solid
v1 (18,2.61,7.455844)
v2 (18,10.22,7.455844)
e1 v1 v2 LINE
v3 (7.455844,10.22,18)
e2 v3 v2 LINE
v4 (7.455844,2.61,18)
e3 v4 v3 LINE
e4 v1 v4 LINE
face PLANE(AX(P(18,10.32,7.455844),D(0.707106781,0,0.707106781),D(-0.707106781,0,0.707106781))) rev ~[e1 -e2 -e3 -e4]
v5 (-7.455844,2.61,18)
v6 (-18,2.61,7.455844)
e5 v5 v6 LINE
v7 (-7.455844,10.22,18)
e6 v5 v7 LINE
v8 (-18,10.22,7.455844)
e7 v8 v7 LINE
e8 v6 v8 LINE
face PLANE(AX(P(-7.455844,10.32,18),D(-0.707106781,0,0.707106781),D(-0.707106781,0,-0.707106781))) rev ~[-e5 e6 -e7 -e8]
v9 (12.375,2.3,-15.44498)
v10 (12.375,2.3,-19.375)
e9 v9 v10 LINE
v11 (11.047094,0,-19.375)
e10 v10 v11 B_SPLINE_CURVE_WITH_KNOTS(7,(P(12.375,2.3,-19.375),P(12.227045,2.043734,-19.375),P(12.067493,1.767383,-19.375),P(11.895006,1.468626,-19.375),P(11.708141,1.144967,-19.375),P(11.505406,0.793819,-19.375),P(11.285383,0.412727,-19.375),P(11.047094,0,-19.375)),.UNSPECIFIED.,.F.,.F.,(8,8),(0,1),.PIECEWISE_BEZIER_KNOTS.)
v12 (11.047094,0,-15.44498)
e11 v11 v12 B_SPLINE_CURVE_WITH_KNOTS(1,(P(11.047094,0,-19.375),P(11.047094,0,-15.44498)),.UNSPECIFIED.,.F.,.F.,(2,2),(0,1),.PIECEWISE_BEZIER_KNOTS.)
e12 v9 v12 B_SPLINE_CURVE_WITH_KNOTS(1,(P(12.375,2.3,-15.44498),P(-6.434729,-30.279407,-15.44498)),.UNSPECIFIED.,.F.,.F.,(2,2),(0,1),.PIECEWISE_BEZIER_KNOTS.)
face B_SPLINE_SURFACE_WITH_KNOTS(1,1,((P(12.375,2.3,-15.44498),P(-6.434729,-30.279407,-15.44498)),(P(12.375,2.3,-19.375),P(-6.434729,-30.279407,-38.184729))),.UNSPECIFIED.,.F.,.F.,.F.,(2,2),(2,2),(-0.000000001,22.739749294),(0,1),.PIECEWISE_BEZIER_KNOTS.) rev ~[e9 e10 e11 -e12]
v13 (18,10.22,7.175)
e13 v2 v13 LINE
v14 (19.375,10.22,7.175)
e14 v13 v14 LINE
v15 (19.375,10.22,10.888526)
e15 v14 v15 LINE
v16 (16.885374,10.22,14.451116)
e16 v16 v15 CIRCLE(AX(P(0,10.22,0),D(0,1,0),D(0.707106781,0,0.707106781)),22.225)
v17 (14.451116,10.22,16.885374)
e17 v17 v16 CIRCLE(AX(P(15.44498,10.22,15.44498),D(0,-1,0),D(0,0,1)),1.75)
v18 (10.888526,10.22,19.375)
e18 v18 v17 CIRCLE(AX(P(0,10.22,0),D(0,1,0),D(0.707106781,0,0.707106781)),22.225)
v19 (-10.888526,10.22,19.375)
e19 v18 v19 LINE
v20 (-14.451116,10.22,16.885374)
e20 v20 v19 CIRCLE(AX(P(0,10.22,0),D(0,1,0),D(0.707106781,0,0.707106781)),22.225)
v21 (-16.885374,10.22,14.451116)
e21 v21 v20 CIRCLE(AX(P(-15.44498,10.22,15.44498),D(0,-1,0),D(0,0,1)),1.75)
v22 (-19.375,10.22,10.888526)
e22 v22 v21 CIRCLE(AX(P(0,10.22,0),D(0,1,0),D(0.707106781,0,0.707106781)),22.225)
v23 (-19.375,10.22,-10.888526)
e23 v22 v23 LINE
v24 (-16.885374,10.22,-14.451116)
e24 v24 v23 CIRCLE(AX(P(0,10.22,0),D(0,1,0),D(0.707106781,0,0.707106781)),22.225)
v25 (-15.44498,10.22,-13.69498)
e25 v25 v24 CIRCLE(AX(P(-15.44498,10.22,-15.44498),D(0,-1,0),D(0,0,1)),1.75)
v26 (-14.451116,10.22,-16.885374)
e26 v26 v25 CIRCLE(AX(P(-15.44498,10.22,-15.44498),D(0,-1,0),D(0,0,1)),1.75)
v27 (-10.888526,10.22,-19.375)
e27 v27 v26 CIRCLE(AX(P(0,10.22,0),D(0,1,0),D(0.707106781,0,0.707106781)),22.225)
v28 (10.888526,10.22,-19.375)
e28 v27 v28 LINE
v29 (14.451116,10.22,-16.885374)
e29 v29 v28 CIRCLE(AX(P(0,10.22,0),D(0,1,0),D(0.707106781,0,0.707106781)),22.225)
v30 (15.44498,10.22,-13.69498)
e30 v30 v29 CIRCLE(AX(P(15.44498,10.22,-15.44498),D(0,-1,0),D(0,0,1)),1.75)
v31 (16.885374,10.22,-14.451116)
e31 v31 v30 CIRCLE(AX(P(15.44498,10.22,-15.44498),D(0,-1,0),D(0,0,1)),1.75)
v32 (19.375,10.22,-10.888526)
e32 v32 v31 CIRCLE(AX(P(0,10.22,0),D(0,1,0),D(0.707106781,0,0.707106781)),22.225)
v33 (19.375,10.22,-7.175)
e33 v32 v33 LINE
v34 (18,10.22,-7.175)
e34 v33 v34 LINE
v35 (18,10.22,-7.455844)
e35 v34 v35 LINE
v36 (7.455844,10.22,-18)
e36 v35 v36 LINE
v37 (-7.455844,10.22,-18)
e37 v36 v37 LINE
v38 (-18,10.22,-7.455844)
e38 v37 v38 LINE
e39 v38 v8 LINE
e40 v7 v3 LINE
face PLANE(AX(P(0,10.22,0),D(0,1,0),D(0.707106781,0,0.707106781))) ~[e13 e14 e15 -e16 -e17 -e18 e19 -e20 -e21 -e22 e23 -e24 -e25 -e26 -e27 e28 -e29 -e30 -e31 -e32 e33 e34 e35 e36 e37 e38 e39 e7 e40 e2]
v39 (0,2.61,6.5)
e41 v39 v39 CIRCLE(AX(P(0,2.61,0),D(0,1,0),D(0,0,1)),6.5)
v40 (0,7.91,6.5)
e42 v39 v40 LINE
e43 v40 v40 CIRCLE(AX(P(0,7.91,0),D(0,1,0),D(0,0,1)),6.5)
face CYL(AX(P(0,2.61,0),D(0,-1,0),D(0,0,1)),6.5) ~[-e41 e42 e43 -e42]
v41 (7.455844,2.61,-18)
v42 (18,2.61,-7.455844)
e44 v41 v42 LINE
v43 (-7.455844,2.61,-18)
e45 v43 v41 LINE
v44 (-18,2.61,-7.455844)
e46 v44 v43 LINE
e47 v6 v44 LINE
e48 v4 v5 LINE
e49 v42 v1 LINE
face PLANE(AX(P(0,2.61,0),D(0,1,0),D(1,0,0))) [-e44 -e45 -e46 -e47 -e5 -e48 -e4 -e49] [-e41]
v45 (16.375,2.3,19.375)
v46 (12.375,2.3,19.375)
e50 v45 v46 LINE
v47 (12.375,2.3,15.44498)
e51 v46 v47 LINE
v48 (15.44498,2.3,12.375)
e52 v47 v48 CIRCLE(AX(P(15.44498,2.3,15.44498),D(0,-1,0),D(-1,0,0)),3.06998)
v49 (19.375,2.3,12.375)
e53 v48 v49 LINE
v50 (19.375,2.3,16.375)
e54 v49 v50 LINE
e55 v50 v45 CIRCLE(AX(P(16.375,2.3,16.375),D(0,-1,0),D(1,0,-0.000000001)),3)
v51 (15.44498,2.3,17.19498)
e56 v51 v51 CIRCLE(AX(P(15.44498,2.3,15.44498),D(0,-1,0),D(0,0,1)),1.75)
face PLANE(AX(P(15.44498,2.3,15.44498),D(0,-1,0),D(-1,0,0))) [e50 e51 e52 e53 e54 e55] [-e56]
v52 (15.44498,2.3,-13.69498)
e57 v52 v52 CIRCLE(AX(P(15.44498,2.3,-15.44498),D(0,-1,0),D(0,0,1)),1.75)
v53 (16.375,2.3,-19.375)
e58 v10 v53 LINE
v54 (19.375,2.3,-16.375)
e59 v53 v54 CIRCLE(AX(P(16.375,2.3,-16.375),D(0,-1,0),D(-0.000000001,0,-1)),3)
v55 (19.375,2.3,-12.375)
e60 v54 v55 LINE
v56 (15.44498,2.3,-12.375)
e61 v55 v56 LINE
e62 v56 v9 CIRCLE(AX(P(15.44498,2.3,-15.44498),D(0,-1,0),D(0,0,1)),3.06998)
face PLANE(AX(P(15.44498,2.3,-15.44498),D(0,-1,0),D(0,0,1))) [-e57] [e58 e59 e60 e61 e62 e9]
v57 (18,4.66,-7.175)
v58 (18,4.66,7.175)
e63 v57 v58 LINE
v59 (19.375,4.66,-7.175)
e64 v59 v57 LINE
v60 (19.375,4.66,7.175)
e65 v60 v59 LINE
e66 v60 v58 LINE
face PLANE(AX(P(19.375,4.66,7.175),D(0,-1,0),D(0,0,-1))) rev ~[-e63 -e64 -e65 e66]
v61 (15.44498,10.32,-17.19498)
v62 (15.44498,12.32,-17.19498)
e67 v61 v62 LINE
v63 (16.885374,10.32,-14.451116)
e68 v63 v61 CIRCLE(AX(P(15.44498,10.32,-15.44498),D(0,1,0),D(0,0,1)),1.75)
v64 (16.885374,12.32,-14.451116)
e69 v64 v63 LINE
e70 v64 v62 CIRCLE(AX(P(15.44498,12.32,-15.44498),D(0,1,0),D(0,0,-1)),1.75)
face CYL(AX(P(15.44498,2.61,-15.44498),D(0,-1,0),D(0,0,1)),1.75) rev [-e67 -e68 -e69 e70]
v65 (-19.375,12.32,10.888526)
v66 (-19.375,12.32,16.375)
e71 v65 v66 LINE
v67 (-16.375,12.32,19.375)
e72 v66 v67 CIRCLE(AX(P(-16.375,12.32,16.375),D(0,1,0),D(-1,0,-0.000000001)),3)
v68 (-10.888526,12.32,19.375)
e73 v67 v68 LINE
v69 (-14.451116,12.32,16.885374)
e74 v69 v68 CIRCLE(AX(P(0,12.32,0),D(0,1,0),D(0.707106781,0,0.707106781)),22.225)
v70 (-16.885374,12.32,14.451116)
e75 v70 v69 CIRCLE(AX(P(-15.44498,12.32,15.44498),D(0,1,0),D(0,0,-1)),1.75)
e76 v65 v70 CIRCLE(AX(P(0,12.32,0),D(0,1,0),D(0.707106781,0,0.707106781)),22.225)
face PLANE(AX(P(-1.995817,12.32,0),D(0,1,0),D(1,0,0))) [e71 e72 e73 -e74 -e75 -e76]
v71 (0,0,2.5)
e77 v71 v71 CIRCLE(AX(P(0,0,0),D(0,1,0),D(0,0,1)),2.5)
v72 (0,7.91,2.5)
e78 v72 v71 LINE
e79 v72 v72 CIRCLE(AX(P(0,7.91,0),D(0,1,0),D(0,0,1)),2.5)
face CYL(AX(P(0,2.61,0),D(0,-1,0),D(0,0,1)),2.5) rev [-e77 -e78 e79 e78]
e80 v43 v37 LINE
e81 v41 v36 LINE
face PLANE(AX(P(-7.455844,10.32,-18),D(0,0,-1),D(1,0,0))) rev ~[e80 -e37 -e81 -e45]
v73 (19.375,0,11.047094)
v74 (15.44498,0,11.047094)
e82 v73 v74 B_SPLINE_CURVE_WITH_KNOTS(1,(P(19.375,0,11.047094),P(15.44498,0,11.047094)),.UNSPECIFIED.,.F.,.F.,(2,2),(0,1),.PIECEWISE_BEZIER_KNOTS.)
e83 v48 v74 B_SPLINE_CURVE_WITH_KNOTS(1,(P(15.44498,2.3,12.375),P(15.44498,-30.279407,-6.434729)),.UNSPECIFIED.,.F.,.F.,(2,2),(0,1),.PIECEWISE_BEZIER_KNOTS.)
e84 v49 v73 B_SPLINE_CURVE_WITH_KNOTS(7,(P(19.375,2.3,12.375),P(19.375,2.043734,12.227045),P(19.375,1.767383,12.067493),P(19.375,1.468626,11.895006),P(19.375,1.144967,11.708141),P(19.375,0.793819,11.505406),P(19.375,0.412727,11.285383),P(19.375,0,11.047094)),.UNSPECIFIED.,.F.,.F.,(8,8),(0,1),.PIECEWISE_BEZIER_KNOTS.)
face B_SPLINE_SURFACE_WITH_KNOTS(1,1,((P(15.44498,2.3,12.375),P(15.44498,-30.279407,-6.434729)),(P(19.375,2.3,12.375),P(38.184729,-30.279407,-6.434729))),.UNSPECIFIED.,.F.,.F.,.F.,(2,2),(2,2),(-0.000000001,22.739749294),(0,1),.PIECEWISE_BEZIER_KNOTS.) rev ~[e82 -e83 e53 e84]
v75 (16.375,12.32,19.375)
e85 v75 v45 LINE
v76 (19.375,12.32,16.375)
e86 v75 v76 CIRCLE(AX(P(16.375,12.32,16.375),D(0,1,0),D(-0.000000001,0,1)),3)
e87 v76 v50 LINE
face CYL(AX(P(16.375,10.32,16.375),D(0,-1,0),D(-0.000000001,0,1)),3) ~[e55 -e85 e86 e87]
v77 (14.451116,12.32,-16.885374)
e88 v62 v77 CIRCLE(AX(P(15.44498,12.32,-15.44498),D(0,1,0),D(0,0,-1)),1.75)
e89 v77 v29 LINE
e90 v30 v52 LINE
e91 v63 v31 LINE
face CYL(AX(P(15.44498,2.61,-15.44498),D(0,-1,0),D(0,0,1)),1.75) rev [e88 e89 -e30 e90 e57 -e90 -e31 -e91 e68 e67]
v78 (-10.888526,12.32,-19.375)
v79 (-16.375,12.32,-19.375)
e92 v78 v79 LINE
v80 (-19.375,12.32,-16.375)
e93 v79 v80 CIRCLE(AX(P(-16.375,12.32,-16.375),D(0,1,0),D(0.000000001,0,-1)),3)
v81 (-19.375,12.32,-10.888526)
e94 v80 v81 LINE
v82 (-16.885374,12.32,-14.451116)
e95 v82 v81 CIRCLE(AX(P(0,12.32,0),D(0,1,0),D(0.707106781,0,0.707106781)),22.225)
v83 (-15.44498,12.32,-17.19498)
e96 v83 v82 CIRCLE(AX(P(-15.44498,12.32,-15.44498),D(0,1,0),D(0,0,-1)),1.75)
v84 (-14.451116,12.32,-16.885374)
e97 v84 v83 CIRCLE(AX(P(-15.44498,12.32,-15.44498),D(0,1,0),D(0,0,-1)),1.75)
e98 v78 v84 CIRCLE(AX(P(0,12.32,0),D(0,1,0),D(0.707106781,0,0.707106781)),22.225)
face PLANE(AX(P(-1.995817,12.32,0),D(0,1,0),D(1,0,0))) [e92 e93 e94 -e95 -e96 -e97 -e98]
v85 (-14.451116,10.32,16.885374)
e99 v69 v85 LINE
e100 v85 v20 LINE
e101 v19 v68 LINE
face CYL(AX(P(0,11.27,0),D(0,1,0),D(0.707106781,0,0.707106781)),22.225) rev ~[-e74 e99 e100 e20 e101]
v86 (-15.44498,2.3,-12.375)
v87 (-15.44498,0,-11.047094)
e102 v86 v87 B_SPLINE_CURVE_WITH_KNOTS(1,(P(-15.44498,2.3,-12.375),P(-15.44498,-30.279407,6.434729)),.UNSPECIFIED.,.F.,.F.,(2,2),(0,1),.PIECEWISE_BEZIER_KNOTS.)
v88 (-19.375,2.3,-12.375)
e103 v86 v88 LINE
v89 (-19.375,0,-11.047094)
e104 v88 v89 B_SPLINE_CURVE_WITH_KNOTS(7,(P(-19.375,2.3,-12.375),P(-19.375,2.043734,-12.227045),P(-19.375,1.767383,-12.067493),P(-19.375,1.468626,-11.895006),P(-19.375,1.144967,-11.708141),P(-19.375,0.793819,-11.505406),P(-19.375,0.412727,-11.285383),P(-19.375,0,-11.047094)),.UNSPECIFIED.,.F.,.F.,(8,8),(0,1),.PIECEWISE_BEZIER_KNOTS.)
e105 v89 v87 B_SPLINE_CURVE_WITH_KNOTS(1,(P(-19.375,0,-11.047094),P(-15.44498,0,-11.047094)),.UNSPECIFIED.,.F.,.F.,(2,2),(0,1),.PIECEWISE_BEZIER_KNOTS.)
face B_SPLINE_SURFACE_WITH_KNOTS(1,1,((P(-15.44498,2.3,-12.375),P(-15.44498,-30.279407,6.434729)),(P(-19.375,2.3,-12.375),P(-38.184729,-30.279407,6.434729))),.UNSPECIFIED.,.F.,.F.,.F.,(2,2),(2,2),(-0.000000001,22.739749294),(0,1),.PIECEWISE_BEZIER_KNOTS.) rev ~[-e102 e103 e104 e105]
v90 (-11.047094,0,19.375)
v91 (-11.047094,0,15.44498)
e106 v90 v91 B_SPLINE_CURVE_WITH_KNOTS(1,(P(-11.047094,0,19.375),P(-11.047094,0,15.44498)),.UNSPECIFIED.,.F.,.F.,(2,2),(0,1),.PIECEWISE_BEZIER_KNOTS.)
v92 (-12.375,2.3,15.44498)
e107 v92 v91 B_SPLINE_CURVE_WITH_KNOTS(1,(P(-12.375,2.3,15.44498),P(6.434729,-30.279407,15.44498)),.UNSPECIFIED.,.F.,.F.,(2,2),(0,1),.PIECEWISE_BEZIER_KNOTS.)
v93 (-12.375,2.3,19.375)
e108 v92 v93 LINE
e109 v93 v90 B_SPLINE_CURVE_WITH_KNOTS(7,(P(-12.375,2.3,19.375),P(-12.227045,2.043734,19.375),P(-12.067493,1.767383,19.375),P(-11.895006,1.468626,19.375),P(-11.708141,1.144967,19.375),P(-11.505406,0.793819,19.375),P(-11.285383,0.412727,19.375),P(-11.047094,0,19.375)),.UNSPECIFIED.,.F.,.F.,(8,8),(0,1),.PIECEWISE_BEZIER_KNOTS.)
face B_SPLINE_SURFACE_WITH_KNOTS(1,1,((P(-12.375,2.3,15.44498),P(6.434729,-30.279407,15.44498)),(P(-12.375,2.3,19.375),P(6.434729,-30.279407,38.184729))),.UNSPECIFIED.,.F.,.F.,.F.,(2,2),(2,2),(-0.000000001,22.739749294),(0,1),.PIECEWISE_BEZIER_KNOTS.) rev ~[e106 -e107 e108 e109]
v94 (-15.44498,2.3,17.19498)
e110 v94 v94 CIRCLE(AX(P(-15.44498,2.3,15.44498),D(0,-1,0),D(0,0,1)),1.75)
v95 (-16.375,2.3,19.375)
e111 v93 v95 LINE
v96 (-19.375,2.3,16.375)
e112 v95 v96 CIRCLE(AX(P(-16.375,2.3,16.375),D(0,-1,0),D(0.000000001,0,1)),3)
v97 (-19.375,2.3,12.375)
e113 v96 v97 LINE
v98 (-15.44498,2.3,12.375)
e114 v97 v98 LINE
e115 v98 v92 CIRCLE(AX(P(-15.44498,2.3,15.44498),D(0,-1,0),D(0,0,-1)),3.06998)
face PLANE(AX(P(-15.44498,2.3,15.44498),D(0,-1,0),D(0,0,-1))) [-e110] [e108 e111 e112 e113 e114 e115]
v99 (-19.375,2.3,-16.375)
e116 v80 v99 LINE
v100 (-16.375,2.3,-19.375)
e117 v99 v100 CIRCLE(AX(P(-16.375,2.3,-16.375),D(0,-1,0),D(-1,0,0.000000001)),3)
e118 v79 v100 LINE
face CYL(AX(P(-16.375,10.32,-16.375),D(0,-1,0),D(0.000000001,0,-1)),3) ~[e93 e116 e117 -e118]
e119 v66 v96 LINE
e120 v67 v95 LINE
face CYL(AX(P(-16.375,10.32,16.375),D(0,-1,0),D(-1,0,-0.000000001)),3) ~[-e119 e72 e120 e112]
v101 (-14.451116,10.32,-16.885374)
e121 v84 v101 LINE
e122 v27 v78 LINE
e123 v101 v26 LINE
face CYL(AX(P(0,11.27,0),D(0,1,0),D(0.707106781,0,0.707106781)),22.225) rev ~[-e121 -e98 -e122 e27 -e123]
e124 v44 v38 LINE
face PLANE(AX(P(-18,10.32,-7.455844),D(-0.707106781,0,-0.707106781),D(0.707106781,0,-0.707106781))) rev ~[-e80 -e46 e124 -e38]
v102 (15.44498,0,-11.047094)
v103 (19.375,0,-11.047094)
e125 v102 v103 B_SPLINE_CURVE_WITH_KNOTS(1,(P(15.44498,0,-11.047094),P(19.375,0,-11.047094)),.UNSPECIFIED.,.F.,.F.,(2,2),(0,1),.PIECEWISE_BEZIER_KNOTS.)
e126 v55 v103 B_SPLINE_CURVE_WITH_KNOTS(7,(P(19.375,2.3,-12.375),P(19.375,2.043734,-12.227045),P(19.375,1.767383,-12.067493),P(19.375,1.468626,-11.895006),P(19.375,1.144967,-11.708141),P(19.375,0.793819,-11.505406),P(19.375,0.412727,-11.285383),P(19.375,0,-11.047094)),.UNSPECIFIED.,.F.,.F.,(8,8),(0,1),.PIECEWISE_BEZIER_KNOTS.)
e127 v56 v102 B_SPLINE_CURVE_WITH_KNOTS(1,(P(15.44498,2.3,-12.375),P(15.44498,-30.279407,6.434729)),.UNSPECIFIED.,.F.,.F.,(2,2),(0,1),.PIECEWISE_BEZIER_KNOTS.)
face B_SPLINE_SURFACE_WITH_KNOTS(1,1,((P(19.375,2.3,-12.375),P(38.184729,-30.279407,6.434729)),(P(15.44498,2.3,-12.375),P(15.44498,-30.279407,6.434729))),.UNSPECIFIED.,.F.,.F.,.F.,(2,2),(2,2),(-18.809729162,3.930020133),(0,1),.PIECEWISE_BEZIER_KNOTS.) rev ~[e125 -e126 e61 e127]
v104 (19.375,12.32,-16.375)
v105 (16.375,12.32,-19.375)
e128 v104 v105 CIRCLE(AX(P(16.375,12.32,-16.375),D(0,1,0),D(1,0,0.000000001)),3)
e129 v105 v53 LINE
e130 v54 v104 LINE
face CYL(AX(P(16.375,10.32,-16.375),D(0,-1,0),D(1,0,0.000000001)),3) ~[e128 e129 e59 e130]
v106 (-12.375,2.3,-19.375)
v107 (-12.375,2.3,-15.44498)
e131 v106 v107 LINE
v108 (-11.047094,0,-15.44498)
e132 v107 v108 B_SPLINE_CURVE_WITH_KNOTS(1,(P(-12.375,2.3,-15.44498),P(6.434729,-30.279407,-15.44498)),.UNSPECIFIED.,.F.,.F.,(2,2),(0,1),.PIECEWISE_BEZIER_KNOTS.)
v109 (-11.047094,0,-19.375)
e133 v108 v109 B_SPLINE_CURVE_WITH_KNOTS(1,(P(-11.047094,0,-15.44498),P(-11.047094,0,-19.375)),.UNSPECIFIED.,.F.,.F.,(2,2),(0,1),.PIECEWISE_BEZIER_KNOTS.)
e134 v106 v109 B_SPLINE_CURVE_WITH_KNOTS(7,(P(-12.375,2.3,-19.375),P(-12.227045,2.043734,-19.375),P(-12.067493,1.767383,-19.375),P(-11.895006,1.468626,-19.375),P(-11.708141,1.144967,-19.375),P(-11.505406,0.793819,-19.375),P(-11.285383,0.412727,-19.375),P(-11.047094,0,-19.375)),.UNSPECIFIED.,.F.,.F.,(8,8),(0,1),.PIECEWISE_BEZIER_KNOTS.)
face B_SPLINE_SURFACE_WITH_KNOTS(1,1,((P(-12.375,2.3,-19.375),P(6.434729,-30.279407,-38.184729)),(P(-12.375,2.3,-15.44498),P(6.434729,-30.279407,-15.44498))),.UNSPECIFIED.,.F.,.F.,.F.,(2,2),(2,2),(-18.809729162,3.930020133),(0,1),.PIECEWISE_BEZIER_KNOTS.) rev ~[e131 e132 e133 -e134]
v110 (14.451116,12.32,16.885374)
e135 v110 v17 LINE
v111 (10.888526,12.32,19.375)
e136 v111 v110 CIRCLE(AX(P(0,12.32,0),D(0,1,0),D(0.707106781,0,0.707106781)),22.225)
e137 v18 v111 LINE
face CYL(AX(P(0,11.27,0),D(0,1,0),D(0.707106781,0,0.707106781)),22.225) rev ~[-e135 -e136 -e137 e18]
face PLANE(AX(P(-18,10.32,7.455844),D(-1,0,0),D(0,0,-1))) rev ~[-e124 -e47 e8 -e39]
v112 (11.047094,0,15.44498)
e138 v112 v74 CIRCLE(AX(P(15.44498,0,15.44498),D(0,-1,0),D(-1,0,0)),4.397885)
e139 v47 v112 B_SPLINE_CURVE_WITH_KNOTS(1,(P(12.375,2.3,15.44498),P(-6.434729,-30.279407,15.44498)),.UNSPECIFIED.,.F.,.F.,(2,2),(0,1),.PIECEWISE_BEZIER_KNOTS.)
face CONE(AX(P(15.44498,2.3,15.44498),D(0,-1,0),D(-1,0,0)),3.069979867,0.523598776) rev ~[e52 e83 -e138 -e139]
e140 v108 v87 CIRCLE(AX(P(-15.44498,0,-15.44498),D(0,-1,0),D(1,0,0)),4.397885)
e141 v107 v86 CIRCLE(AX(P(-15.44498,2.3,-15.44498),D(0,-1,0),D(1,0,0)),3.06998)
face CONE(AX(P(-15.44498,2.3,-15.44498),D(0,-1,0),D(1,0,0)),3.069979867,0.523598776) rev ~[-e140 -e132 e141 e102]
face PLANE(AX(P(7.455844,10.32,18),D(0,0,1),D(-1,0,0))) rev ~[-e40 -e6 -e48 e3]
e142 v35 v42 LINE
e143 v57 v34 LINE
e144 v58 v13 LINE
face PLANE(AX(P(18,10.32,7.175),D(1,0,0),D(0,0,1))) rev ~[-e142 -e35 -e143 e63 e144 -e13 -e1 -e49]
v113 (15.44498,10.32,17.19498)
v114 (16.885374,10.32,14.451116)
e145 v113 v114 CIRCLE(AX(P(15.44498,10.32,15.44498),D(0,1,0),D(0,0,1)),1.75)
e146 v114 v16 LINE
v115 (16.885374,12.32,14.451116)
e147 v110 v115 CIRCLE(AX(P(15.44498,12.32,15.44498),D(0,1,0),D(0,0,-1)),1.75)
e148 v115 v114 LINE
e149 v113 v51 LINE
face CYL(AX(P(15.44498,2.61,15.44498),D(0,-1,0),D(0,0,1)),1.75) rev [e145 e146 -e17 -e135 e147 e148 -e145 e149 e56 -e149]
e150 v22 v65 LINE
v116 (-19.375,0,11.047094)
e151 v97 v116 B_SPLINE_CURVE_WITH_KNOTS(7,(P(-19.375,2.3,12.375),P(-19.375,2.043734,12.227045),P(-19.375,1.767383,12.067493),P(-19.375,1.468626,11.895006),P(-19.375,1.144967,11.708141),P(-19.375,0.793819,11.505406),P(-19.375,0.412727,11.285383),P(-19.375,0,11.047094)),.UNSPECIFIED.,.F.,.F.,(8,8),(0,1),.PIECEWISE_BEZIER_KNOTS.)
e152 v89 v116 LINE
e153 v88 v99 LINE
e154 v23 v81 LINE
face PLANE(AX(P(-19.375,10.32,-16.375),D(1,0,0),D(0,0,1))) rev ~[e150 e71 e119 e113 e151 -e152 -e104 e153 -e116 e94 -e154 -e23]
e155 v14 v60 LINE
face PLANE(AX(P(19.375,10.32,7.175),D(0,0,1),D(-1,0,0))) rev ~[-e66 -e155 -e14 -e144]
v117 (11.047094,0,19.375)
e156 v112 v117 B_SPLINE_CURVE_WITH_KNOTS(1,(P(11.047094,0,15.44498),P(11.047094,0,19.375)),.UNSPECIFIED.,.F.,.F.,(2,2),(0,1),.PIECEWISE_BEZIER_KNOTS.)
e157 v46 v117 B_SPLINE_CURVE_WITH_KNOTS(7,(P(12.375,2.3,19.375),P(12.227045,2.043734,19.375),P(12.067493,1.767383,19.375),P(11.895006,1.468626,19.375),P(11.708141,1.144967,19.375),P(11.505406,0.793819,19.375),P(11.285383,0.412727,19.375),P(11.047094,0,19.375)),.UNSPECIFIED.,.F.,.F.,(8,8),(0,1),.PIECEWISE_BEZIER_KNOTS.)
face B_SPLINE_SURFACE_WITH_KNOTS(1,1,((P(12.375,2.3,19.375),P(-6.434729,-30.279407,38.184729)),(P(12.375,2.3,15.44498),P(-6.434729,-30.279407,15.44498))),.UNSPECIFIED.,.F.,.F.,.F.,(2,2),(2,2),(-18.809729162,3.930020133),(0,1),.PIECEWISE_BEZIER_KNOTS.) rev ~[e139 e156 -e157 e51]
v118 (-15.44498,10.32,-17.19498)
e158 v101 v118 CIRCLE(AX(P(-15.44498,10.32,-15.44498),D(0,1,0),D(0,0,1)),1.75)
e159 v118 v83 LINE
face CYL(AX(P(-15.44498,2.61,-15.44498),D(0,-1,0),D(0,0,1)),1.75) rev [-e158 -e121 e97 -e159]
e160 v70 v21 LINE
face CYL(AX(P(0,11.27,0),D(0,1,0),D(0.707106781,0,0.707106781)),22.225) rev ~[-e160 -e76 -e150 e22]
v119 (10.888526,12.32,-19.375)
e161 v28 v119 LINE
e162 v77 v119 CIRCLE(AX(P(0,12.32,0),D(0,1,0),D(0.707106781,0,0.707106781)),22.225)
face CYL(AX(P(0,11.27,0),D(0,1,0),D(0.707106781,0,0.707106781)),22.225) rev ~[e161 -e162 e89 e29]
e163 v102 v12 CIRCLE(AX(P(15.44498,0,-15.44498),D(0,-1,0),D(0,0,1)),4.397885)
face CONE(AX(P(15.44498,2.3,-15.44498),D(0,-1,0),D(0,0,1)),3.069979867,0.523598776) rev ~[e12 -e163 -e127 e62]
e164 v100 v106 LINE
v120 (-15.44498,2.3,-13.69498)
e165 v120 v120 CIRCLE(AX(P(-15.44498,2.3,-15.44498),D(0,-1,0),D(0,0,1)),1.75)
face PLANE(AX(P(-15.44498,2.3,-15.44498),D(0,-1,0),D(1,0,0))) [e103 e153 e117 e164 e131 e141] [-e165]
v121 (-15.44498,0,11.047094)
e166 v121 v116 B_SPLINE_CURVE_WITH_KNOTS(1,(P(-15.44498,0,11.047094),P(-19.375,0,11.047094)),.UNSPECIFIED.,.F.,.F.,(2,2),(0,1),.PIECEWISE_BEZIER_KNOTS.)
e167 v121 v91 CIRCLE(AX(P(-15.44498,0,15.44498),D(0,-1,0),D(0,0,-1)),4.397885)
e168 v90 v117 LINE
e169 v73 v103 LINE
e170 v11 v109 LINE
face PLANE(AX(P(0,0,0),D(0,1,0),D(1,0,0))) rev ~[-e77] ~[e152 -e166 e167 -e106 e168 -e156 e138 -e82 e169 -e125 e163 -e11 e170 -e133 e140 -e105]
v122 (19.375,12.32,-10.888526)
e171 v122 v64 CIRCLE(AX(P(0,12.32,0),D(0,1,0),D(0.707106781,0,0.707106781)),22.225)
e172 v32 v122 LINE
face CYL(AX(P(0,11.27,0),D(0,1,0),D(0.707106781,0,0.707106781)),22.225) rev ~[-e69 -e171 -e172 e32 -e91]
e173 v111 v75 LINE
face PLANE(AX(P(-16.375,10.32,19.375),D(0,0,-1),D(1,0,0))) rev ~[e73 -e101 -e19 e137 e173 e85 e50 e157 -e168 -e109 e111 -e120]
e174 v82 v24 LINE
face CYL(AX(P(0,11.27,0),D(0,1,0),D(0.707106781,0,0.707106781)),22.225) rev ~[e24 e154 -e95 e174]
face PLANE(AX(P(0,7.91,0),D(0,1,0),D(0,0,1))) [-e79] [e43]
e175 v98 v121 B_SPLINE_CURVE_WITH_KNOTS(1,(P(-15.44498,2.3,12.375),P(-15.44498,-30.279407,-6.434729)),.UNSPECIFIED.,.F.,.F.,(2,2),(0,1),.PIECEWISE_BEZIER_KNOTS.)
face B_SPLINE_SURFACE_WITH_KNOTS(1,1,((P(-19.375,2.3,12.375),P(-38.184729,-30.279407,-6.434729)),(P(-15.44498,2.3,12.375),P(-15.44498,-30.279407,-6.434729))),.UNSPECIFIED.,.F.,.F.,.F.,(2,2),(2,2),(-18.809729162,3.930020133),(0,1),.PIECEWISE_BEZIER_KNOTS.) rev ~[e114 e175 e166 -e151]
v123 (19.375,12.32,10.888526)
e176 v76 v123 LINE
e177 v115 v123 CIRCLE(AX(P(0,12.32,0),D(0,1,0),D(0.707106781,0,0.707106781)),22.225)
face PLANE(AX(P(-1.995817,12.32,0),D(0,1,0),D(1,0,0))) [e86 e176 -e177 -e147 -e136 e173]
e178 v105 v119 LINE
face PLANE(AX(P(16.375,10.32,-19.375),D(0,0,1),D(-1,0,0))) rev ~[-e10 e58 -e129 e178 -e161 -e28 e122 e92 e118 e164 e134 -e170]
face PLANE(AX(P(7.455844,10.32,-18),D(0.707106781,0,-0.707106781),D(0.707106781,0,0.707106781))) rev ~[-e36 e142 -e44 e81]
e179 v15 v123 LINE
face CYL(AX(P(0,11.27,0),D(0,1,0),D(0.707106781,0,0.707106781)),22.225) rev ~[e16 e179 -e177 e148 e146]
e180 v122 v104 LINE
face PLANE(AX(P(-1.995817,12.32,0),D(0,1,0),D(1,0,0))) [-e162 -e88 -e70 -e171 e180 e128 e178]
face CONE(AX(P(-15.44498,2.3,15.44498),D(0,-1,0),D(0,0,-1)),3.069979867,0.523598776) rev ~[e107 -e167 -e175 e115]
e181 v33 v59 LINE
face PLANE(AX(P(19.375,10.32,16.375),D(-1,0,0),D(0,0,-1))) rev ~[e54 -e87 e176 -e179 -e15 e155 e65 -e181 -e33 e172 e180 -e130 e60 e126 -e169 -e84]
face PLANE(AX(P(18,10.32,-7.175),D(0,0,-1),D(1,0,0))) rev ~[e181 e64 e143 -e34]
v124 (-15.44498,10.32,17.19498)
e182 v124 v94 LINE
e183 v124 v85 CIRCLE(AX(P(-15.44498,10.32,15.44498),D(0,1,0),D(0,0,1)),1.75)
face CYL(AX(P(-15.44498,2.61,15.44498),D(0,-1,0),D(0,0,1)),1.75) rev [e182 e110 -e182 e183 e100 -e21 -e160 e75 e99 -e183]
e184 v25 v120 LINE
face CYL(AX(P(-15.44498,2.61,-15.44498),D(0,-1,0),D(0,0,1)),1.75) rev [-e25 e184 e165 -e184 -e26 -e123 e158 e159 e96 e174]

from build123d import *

# Parameters (mm, degrees)
SKETCH1_R           = 2.5
SKETCH1_R_2         = 1.75
BOSS_EXTRUDE1_DEPTH = 2.61
SKETCH2_R           = 1.75
BOSS_EXTRUDE2_DEPTH = 7.71
CUT_EXTRUDE1_START  = -2.3
CUT_EXTRUDE1_DEPTH  = 32.579406586
CUT_EXTRUDE1_TAPER  = -30
CIRPATTERN1_COUNT   = 4
CUT_EXTRUDE2_REACH  = 46.536
SKETCH6_W           = 14.35
SKETCH6_H           = 15.668786702
SKETCH7_R           = 1.75
BOSS_EXTRUDE3_DEPTH = 2
SKETCH9_W           = 16.172360651
SKETCH9_H           = 2.1
SKETCH10_R          = 6.5
SKETCH10_R_2        = 2.5
BOSS_EXTRUDE4_DEPTH = 5.3


with BuildPart() as part:
    # Sketch1 → Boss-Extrude1 (new body)
    with BuildSketch(Plane(origin=(0, 0, 0), x_dir=(1, 0, 0), z_dir=(0, 1, 0))):
        with BuildLine():
            Line((-16.375, -19.375), (16.375, -19.375))
            ThreePointArc((16.375, -19.375), (18.496320344, -18.496320344), (19.375, -16.375))
            Line((19.375, -16.375), (19.375, 16.375))
            ThreePointArc((19.375, 16.375), (18.496320344, 18.496320344), (16.375, 19.375))
            Line((16.375, 19.375), (-16.375, 19.375))
            ThreePointArc((-16.375, 19.375), (-18.496320344, 18.496320344), (-19.375, 16.375))
            Line((-19.375, 16.375), (-19.375, -16.375))
            ThreePointArc((-19.375, -16.375), (-18.496320344, -18.496320344), (-16.375, -19.375))
        make_face()
        with Locations(Location((0, 0, 0), (0, 0, 270))):
            Circle(SKETCH1_R, mode=Mode.SUBTRACT)
        with Locations(Location((-15.444979868, 15.444979868, 0), (0, 0, 270))):
            Circle(SKETCH1_R_2, mode=Mode.SUBTRACT)
        with Locations(Location((15.444979868, 15.444979868, 0), (0, 0, 270))):
            Circle(SKETCH1_R_2, mode=Mode.SUBTRACT)
        with Locations(Location((15.444979868, -15.444979868, 0), (0, 0, 270))):
            Circle(SKETCH1_R_2, mode=Mode.SUBTRACT)
        with Locations(Location((-15.444979868, -15.444979868, 0), (0, 0, 270))):
            Circle(SKETCH1_R_2, mode=Mode.SUBTRACT)
    extrude(amount=BOSS_EXTRUDE1_DEPTH)

    # Sketch2 → Boss-Extrude2 (add)
    with BuildSketch(Plane(origin=(0, 2.61, 0), x_dir=(1, 0, 0), z_dir=(0, 1, 0))):
        with BuildLine():
            Line((19.375, -16.375), (19.375, 16.375))
            ThreePointArc((19.375, 16.375), (18.496320344, 18.496320344), (16.375, 19.375))
            Line((16.375, 19.375), (-16.375, 19.375))
            ThreePointArc((-16.375, 19.375), (-18.496320344, 18.496320344), (-19.375, 16.375))
            Line((-19.375, 16.375), (-19.375, -16.375))
            ThreePointArc((-19.375, -16.375), (-18.496320344, -18.496320344), (-16.375, -19.375))
            Line((-16.375, -19.375), (16.375, -19.375))
            ThreePointArc((16.375, -19.375), (18.496320344, -18.496320344), (19.375, -16.375))
        make_face()
        with Locations(Location((-15.444979868, 15.444979868, 0), (0, 0, 270))):
            Circle(SKETCH2_R, mode=Mode.SUBTRACT)
        with Locations(Location((15.444979868, 15.444979868, 0), (0, 0, 270))):
            Circle(SKETCH2_R, mode=Mode.SUBTRACT)
        with Locations(Location((15.444979868, -15.444979868, 0), (0, 0, 270))):
            Circle(SKETCH2_R, mode=Mode.SUBTRACT)
        with Locations(Location((-15.444979868, -15.444979868, 0), (0, 0, 270))):
            Circle(SKETCH2_R, mode=Mode.SUBTRACT)
        Polygon((-7.455844123, 18), (7.455844123, 18), (18, 7.455844123), (18, -7.455844123), (7.455844123, -18), (-7.455844123, -18), (-18, -7.455844123), (-18, 7.455844123), align=None, mode=Mode.SUBTRACT)
    extrude(amount=BOSS_EXTRUDE2_DEPTH)

    # Sketch4 → Cut-Extrude1 (cut, through all)
    with BuildSketch(Plane.XZ.offset(CUT_EXTRUDE1_START)):
        with BuildLine():
            Line((12.375, 19.375), (12.375, 15.444979868))
            ThreePointArc((12.375, 15.444979868), (13.274176285, 13.274176285), (15.444979868, 12.375))
            Line((15.444979868, 12.375), (19.375, 12.375))
            Line((19.375, 12.375), (19.375, 16.375))
            ThreePointArc((19.375, 16.375), (18.496320344, 18.496320344), (16.375, 19.375))
            Line((16.375, 19.375), (12.375, 19.375))
        make_face()
    cut_extrude1 = extrude(amount=CUT_EXTRUDE1_DEPTH, taper=CUT_EXTRUDE1_TAPER, mode=Mode.SUBTRACT)

    # CirPattern1: Cut-Extrude1 ×4 about axis
    cirpattern1_axis = Axis((0, 0, 0), (0, 1, 0))
    for i in range(1, CIRPATTERN1_COUNT):
        add(cut_extrude1.rotate(cirpattern1_axis, i * 360 / CIRPATTERN1_COUNT), mode=Mode.SUBTRACT)

    # Sketch6 → Cut-Extrude2 (cut, up to next)
    with BuildSketch(Plane(origin=(19.375, 0, 0), x_dir=(0, 0, -1), z_dir=(1, 0, 0)), mode=Mode.PRIVATE) as cut_extrude2_sk1:
        with Locations((0, 12.494393351)):
            Rectangle(SKETCH6_W, SKETCH6_H)
    cut_extrude2_tool1 = extrude(cut_extrude2_sk1.sketch, amount=-CUT_EXTRUDE2_REACH, mode=Mode.PRIVATE) & part.part
    add(cut_extrude2_tool1.solids().sort_by_distance((19.375, 12.494393, 0))[0], mode=Mode.SUBTRACT)

    # Sketch7 → Boss-Extrude3 (add)
    with BuildSketch(Plane(origin=(0, 10.32, 0), x_dir=(1, 0, 0), z_dir=(0, 1, 0))):
        with BuildLine():
            Line((19.375, -7.175), (18, -7.175))
            Line((18, -7.175), (18, -7.455844123))
            Line((18, -7.455844123), (7.455844123, -18))
            Line((7.455844123, -18), (-7.455844123, -18))
            Line((-7.455844123, -18), (-18, -7.455844123))
            Line((-18, -7.455844123), (-18, 7.455844123))
            Line((-18, 7.455844123), (-7.455844123, 18))
            Line((-7.455844123, 18), (7.455844123, 18))
            Line((7.455844123, 18), (18, 7.455844123))
            Line((18, 7.455844123), (18, 7.175))
            Line((18, 7.175), (19.375, 7.175))
            Line((19.375, 7.175), (19.375, 16.375))
            ThreePointArc((19.375, 16.375), (18.496320344, 18.496320344), (16.375, 19.375))
            Line((16.375, 19.375), (-16.375, 19.375))
            ThreePointArc((-16.375, 19.375), (-18.496320344, 18.496320344), (-19.375, 16.375))
            Line((-19.375, 16.375), (-19.375, -16.375))
            ThreePointArc((-19.375, -16.375), (-18.496320344, -18.496320344), (-16.375, -19.375))
            Line((-16.375, -19.375), (16.375, -19.375))
            ThreePointArc((16.375, -19.375), (18.496320344, -18.496320344), (19.375, -16.375))
            Line((19.375, -16.375), (19.375, -7.175))
        make_face()
        with Locations(Location((-15.444979868, -15.444979868, 0), (0, 0, 90))):
            Circle(SKETCH7_R, mode=Mode.SUBTRACT)
        with Locations(Location((15.444979868, -15.444979868, 0), (0, 0, 90))):
            Circle(SKETCH7_R, mode=Mode.SUBTRACT)
        with Locations(Location((15.444979868, 15.444979868, 0), (0, 0, 90))):
            Circle(SKETCH7_R, mode=Mode.SUBTRACT)
        with Locations(Location((-15.444979868, 15.444979868, 0), (0, 0, 90))):
            Circle(SKETCH7_R, mode=Mode.SUBTRACT)
    extrude(amount=BOSS_EXTRUDE3_DEPTH)

    # Sketch9 → Cut-Revolve1 (revolve, cut)
    with BuildSketch(Plane(origin=(0, 0, 0), x_dir=(0.7071067811865475, 0, 0.7071067811865477), z_dir=(-0.7071067811865477, 0, 0.7071067811865475))):
        with Locations((14.138819675, 11.27)):
            Rectangle(SKETCH9_W, SKETCH9_H)
    revolve(axis=Axis((0, 0, 0), (0, 1, 0)), mode=Mode.SUBTRACT)

    # Sketch10 → Boss-Extrude4 (add)
    with BuildSketch(Plane(origin=(0, 2.61, 0), x_dir=(1, 0, 0), z_dir=(0, 1, 0))):
        with Locations(Location((0, 0, 0), (0, 0, 270))):
            Circle(SKETCH10_R)
        with Locations(Location((0, 0, 0), (0, 0, 270))):
            Circle(SKETCH10_R_2, mode=Mode.SUBTRACT)
    extrude(amount=BOSS_EXTRUDE4_DEPTH)


solid = part.part
